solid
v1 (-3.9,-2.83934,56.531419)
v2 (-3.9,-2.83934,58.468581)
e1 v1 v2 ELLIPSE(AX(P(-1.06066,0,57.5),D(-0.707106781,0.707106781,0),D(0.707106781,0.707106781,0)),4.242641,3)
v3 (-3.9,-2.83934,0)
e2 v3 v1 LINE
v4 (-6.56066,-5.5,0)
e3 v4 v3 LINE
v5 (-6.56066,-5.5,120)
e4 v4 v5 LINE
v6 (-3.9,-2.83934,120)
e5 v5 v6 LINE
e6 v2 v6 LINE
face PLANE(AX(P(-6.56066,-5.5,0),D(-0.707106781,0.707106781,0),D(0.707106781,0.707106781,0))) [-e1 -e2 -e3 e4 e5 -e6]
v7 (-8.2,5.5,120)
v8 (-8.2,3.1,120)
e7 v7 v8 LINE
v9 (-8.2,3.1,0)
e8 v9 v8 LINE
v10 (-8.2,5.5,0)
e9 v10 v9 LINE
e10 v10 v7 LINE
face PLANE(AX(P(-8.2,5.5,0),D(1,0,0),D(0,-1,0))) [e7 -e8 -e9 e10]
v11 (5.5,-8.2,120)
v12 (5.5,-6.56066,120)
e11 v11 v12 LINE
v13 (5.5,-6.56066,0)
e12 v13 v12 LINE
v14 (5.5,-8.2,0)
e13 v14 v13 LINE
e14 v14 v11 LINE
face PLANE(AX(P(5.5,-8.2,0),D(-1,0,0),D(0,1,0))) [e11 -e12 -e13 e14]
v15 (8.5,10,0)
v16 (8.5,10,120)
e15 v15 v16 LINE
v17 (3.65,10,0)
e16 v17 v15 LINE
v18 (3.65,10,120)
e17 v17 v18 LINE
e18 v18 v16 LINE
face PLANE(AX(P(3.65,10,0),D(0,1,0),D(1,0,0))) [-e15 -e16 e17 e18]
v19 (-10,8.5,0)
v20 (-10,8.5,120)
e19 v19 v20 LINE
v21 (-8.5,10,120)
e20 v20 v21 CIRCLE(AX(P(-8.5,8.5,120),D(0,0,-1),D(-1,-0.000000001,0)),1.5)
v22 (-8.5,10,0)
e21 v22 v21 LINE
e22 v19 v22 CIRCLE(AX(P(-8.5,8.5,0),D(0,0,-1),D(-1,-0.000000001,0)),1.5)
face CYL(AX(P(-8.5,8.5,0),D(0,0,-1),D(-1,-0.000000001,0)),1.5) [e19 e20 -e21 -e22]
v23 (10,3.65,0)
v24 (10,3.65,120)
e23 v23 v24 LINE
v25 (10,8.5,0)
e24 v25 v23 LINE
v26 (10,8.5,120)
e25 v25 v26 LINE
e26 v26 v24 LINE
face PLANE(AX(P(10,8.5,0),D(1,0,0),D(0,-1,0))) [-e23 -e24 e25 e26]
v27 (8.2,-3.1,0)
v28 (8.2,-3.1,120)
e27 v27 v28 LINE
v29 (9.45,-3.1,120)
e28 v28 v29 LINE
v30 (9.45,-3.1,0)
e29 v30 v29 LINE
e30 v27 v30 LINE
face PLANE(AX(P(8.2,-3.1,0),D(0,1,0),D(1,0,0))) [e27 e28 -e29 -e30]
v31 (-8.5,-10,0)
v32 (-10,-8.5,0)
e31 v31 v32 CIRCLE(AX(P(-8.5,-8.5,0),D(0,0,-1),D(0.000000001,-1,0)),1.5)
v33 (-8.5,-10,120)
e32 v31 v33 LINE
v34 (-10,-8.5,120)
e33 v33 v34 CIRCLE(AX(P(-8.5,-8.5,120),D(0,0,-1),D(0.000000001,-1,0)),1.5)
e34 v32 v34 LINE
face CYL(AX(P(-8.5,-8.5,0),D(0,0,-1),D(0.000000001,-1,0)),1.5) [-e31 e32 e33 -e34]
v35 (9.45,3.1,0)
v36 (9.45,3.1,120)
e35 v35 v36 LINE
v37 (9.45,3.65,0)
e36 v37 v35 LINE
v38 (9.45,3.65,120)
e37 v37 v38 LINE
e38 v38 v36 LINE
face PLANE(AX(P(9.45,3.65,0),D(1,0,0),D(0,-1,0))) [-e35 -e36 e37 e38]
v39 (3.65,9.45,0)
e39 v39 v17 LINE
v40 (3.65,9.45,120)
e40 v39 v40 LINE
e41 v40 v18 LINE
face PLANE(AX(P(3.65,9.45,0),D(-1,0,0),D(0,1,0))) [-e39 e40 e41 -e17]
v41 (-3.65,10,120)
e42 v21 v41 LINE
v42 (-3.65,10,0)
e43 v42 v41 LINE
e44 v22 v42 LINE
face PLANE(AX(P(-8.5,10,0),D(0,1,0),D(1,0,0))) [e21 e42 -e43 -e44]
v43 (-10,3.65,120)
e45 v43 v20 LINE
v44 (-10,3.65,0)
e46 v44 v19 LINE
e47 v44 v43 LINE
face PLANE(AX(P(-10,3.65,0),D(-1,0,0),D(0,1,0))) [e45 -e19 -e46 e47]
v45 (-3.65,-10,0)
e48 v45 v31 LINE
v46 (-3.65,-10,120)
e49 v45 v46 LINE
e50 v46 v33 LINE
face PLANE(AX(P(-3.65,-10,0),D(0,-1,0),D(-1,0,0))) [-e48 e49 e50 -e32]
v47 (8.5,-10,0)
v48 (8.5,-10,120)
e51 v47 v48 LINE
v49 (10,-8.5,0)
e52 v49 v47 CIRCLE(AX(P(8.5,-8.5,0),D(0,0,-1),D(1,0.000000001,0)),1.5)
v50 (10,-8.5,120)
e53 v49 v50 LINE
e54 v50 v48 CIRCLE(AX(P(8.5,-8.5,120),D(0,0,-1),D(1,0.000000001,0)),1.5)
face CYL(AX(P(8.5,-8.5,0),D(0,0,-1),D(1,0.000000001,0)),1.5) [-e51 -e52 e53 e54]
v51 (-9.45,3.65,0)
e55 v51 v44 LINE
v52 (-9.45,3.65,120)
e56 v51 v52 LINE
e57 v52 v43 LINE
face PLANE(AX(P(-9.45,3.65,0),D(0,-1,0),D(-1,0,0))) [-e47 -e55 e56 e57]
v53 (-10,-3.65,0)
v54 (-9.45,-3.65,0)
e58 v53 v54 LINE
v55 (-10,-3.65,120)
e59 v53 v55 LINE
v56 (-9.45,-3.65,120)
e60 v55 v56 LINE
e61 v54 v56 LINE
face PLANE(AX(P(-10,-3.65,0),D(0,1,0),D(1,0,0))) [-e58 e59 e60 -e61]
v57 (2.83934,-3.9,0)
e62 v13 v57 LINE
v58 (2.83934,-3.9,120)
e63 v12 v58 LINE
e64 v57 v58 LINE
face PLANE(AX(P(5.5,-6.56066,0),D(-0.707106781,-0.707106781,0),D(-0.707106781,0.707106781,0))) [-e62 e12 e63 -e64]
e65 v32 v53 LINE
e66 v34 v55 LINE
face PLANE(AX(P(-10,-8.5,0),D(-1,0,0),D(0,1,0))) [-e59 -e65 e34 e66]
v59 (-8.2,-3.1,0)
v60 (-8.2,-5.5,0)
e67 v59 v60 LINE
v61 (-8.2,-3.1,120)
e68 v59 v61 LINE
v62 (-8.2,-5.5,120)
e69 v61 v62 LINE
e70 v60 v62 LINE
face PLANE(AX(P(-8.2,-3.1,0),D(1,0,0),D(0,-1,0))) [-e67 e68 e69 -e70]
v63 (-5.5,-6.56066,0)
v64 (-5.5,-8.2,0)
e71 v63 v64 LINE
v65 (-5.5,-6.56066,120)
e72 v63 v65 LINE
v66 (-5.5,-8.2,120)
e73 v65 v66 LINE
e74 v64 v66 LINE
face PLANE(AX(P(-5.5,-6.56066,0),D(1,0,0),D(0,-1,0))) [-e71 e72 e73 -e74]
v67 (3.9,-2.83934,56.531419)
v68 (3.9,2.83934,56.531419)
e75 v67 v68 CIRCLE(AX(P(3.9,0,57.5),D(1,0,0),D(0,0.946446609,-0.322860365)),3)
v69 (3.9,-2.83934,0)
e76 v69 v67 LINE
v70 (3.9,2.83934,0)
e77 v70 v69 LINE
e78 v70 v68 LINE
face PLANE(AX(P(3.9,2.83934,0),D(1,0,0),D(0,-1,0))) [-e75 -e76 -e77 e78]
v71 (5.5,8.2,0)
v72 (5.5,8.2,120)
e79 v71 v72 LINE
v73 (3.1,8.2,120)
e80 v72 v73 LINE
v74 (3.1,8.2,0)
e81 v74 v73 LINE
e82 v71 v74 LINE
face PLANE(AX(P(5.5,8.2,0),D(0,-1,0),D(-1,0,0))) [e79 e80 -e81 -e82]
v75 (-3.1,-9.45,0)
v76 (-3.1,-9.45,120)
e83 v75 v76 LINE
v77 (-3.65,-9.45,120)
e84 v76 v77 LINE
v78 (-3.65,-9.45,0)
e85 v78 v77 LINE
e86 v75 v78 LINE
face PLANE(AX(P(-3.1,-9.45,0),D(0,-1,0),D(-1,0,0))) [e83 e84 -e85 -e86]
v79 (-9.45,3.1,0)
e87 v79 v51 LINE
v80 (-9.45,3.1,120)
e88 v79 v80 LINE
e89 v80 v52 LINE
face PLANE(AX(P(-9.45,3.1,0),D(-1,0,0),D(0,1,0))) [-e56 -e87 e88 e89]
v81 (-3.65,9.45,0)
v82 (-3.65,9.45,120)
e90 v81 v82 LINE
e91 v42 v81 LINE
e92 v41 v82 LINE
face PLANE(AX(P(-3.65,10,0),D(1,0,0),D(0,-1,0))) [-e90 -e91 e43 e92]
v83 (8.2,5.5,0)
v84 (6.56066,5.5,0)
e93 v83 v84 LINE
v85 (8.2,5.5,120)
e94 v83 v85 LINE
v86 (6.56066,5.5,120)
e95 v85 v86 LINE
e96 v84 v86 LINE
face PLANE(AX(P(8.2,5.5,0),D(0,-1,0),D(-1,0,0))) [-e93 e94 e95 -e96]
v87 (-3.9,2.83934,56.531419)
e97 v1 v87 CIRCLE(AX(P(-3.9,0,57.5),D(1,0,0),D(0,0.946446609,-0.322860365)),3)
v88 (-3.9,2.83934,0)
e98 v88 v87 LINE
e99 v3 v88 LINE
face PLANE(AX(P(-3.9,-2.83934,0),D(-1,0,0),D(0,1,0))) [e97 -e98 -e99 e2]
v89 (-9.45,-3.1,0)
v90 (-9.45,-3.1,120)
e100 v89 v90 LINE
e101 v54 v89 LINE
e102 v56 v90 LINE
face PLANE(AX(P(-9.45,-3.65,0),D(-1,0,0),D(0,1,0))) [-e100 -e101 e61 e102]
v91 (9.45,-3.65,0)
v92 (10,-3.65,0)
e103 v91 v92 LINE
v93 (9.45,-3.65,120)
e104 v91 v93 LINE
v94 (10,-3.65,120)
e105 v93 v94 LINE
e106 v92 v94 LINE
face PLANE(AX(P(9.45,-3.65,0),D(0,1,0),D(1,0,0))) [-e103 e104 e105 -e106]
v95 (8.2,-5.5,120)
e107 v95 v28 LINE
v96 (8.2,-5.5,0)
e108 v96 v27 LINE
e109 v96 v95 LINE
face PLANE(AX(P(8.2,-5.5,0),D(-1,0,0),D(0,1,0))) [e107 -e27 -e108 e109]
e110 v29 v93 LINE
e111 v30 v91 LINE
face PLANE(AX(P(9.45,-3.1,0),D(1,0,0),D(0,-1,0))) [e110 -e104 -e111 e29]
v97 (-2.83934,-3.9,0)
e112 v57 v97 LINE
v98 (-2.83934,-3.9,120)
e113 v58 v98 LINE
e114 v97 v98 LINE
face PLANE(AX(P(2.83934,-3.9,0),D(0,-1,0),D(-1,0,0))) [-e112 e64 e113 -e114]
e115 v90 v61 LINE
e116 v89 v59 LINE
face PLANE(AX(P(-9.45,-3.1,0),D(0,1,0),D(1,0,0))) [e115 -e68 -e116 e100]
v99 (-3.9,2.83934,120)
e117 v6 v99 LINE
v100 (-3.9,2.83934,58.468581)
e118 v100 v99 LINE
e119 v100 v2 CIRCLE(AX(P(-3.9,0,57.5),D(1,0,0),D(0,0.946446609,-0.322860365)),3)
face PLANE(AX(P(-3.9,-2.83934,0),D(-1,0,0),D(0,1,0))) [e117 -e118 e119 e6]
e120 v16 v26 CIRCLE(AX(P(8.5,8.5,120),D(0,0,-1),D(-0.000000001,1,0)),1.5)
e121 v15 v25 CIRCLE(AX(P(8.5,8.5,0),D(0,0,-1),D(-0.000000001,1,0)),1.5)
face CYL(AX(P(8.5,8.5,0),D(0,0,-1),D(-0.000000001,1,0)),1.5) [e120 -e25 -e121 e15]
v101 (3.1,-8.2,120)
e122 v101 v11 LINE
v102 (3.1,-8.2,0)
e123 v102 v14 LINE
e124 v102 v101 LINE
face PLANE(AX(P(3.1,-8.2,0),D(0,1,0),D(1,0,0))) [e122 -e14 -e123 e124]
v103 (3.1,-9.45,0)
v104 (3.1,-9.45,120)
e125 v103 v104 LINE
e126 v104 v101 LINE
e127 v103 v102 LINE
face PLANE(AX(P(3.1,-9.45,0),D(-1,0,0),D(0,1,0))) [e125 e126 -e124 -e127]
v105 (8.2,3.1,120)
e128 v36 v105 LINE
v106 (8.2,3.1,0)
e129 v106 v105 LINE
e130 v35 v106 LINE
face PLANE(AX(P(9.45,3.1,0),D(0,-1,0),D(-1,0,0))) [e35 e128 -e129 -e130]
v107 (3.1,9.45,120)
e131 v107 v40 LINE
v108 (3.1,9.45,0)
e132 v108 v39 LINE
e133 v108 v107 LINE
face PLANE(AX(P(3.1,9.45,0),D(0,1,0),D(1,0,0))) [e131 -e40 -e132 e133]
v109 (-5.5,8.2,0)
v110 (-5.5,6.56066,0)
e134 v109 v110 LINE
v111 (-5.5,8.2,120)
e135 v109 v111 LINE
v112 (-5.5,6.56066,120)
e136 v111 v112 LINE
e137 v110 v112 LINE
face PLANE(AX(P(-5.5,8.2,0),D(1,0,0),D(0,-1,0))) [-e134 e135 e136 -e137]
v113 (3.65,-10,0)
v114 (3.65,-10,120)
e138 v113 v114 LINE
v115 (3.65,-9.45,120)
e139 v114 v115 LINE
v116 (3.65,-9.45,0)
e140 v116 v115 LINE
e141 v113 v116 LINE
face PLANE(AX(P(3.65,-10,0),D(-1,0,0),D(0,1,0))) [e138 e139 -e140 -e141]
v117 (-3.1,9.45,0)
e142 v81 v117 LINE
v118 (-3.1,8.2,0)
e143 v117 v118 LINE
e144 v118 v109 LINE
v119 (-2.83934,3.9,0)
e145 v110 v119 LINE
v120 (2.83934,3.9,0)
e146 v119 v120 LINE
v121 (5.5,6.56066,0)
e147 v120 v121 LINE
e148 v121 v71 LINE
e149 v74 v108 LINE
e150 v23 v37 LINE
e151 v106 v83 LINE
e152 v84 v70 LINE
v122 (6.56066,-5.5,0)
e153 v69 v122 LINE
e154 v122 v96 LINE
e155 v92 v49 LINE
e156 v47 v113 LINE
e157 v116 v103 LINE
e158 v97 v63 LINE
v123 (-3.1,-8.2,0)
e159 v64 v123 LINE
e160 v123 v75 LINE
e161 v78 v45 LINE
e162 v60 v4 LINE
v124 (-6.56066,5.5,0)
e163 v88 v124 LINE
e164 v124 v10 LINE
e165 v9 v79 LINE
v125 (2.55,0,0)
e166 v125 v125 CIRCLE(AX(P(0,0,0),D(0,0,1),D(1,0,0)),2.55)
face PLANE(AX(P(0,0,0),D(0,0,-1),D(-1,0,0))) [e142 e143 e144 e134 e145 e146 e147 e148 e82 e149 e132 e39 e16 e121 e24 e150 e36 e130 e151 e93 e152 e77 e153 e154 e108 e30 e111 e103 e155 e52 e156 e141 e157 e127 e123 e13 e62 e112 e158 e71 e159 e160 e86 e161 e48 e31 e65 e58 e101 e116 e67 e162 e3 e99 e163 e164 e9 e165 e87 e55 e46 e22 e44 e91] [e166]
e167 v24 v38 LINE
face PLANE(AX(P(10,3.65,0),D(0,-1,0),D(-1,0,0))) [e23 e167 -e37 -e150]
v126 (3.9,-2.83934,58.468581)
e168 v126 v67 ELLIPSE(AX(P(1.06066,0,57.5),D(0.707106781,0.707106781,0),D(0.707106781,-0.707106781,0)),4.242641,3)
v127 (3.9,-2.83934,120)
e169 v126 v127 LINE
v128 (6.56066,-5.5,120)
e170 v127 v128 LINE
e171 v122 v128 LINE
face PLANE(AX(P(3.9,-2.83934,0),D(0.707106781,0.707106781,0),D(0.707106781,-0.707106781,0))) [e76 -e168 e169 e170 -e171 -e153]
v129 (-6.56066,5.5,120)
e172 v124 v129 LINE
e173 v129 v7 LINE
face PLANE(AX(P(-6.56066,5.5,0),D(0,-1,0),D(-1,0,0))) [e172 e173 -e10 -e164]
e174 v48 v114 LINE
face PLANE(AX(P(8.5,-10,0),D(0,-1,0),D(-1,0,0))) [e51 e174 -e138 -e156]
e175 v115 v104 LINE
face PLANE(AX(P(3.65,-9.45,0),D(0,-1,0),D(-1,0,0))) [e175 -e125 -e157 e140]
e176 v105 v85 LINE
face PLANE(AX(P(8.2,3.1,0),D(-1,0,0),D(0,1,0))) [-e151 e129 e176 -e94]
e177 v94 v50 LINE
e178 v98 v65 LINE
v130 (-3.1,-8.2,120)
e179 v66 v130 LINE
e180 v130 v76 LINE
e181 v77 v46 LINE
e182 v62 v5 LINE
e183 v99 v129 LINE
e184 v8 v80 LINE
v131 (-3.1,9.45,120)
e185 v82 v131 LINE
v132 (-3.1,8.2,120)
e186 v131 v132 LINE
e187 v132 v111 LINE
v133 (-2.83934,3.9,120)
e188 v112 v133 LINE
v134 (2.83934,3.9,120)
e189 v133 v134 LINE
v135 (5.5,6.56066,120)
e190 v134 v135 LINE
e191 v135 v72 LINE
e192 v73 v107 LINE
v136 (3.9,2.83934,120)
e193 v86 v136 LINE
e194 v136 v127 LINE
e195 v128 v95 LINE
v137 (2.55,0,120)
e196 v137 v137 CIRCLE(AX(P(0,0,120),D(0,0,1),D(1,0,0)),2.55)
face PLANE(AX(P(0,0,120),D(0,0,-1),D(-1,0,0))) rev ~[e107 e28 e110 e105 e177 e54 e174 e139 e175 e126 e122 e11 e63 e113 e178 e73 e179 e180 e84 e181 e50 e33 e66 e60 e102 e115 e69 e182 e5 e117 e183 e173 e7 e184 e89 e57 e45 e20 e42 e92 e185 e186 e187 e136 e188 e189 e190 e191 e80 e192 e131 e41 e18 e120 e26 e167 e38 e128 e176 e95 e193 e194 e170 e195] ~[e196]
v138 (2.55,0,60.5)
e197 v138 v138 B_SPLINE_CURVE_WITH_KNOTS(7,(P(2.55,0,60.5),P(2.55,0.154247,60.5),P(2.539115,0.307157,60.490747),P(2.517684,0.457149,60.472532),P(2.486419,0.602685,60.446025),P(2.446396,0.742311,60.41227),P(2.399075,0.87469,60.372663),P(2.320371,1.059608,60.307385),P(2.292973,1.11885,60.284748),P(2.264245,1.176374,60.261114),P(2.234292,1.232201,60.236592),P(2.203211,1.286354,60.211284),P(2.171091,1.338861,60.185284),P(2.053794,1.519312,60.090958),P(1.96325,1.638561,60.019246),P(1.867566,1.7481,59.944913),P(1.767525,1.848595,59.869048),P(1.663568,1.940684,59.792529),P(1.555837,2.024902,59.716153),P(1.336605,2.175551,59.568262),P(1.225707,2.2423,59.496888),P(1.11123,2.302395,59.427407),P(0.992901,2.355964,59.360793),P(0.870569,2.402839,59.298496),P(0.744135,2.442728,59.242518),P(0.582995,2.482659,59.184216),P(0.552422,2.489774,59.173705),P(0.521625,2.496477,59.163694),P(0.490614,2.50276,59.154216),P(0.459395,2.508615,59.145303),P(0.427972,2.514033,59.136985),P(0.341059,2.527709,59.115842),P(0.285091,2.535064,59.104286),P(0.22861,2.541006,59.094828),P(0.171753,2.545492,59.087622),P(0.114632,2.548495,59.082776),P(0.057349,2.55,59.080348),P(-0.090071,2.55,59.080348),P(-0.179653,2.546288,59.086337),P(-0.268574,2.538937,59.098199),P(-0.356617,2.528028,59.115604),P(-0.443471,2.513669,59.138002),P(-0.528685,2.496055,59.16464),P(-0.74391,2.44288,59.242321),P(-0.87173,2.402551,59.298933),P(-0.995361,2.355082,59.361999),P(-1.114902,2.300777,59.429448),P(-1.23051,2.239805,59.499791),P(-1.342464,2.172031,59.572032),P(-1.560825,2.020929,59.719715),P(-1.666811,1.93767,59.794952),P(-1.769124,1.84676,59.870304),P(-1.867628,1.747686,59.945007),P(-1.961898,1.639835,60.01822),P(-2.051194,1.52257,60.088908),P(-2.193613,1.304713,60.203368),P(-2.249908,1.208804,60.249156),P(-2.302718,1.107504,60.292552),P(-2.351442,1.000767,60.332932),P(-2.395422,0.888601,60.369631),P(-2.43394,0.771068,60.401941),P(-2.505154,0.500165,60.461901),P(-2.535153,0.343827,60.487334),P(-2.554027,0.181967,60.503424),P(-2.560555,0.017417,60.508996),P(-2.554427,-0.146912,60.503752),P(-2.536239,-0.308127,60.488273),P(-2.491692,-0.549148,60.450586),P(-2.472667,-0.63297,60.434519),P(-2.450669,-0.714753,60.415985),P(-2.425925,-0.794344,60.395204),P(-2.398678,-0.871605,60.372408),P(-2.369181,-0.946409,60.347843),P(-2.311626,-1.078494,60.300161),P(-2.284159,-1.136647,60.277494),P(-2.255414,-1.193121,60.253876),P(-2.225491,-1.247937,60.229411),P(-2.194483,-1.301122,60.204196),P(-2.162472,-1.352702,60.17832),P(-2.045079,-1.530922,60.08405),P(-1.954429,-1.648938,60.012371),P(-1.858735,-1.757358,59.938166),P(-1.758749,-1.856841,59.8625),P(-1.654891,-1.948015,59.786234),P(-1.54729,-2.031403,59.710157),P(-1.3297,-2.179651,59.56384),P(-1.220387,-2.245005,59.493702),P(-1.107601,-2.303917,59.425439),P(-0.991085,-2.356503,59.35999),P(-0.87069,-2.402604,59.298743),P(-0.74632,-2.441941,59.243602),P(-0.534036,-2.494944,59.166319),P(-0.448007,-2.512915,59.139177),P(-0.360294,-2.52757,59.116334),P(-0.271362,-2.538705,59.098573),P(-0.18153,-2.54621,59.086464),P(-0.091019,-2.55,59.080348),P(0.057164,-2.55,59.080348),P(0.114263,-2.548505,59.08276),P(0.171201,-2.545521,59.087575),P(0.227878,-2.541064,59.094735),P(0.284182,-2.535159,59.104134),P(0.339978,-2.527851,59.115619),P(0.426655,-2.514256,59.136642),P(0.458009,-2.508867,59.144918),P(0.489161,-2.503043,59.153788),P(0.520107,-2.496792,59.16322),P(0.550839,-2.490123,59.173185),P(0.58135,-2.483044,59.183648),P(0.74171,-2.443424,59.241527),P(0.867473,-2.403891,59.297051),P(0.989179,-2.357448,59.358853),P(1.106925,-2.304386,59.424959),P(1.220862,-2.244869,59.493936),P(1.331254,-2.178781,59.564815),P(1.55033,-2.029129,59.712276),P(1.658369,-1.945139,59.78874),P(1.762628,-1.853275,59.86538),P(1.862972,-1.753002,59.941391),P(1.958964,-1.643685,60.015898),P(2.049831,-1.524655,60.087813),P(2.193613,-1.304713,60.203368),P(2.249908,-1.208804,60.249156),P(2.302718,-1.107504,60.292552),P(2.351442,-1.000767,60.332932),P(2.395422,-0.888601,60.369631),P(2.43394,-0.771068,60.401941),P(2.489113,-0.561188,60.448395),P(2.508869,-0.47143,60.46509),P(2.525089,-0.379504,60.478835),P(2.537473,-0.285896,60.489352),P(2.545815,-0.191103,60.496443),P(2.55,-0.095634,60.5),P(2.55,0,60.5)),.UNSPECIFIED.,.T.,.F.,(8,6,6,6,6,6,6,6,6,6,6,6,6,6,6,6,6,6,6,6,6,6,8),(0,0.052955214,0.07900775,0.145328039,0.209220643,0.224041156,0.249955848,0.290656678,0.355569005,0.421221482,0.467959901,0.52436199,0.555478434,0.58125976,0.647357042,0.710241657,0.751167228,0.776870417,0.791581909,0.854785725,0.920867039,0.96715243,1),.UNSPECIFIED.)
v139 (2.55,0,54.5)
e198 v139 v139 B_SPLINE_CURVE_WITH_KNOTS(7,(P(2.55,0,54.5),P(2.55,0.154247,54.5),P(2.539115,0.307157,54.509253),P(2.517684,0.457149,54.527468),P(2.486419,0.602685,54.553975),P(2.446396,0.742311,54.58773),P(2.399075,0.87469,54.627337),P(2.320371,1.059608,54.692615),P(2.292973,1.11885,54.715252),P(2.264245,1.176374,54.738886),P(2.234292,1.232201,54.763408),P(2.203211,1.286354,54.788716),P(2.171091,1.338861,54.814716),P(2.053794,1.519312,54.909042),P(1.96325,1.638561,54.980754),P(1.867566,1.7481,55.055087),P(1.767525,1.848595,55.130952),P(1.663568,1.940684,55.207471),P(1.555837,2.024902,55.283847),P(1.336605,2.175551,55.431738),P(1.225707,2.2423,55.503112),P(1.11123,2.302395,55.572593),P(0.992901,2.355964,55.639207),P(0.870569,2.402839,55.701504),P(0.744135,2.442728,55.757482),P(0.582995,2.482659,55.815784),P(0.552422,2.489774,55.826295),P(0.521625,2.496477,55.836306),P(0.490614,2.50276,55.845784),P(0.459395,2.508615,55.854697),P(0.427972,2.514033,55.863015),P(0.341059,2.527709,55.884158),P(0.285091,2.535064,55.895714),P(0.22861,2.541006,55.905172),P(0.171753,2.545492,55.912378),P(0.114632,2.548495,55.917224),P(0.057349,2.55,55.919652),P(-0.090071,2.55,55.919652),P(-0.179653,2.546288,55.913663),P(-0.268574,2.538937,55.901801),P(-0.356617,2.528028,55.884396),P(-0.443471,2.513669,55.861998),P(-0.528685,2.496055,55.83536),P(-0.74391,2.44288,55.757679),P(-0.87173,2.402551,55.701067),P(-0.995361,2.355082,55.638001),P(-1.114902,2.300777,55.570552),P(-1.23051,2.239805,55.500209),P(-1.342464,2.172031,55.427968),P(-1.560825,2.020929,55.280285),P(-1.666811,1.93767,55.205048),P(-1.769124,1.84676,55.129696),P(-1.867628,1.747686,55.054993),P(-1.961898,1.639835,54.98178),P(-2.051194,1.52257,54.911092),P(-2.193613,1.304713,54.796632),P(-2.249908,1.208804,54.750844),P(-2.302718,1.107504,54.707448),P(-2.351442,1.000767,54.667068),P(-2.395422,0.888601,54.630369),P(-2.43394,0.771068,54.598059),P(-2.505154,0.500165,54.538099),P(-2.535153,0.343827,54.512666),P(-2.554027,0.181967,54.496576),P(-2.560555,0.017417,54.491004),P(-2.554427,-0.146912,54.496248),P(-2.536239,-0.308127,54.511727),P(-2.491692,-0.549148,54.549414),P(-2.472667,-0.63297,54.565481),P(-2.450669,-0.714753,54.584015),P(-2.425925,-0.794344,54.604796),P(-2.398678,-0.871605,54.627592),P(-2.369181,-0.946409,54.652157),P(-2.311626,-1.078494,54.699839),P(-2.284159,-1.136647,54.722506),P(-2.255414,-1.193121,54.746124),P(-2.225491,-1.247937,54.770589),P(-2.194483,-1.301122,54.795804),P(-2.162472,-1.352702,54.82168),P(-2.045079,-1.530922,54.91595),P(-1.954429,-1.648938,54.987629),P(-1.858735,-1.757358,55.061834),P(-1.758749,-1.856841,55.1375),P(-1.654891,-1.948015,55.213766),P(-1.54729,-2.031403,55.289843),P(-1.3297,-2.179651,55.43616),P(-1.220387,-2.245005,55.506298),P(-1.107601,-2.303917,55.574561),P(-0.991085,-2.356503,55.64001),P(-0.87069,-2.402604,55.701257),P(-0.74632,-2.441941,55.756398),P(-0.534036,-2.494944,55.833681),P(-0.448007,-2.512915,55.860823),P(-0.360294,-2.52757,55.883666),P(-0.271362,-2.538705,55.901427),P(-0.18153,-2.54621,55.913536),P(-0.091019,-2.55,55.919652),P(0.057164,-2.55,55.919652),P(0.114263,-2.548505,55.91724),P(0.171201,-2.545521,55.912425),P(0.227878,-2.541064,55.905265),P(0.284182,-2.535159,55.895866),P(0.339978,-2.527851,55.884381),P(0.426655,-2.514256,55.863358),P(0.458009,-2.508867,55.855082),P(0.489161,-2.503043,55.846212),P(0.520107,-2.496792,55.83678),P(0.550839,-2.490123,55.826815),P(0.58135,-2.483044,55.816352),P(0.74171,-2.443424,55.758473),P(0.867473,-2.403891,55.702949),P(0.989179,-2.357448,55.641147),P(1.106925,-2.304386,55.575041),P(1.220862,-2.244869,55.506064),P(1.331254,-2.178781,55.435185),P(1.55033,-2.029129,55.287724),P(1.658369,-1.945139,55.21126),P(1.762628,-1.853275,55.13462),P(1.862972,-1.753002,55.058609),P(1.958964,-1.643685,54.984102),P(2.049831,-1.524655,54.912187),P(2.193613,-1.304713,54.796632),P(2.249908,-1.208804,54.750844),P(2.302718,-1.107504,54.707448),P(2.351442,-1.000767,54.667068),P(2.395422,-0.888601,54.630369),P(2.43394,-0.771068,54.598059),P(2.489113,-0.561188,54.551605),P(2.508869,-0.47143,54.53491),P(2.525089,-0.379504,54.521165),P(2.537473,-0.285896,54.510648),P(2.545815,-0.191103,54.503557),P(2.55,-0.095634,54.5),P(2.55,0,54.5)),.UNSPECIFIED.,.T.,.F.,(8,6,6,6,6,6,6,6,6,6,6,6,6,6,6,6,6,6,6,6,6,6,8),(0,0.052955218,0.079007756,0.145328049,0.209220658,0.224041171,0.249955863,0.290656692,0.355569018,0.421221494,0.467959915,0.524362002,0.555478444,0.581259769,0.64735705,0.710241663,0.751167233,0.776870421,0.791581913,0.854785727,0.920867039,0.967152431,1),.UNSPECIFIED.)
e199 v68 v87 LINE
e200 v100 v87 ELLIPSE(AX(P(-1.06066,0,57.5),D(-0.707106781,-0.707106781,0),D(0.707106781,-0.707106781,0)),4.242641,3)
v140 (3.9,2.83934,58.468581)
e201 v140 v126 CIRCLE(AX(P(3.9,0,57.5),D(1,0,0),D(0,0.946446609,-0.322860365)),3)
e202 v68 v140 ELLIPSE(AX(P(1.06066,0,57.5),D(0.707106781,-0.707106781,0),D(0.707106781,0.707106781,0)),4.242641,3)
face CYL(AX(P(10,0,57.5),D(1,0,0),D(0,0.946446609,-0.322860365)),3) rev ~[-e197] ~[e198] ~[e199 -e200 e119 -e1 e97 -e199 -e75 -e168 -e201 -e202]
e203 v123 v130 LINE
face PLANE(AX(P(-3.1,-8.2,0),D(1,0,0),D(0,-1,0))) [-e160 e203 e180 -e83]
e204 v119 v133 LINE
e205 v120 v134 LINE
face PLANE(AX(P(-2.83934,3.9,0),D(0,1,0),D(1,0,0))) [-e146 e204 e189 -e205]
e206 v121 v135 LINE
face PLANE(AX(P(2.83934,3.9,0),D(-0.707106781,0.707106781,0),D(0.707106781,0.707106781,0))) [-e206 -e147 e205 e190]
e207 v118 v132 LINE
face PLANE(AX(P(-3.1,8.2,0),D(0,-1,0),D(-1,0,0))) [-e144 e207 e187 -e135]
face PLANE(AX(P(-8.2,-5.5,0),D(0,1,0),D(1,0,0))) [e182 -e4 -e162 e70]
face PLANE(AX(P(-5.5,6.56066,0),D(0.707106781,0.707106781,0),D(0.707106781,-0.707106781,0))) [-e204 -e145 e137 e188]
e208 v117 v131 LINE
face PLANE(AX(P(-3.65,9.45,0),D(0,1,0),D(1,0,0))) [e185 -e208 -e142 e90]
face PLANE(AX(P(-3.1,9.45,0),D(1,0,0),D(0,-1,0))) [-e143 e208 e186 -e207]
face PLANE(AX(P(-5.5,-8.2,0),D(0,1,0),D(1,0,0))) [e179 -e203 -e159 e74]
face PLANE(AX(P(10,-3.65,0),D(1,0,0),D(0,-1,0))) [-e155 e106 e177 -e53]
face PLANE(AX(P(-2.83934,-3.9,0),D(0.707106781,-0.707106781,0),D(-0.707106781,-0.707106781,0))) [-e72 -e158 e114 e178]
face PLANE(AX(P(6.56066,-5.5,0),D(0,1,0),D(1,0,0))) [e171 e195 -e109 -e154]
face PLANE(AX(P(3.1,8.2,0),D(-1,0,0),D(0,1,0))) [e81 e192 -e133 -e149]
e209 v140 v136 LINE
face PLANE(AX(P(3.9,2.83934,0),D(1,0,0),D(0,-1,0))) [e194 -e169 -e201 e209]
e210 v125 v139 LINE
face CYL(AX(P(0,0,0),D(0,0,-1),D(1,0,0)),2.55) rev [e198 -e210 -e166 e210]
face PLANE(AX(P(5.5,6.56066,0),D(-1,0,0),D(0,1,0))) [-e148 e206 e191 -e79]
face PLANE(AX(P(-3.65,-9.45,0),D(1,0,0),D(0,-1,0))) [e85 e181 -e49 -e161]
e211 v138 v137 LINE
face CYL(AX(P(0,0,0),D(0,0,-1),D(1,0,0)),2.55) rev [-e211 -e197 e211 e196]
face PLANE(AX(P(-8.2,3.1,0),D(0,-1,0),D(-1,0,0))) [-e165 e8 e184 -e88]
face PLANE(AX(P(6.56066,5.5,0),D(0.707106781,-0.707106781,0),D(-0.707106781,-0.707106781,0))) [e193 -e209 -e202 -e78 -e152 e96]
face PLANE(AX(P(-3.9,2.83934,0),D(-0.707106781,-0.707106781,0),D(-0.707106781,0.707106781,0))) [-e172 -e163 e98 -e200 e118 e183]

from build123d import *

# Parameters (mm, degrees)
SKETCH_2_R          = 2.55
EXTRUDE_1_DEPTH     = 120
SKETCH_3_R          = 3
CUT_EXTRUDE_1_DEPTH = 123.065556157


with BuildPart() as part:
    # 草图2 → 凸台-拉伸1 (new body)
    with BuildSketch(Plane.XY):
        with BuildLine():
            Line((-3.9, 2.839339828), (-6.560660172, 5.5))
            Line((-6.560660172, 5.5), (-8.2, 5.5))
            Line((-8.2, 5.5), (-8.2, 3.1))
            Line((-8.2, 3.1), (-9.45, 3.1))
            Line((-9.45, 3.1), (-9.45, 3.65))
            Line((-9.45, 3.65), (-10, 3.65))
            Line((-10, 3.65), (-10, 8.5))
            ThreePointArc((-10, 8.5), (-9.560660172, 9.560660172), (-8.5, 10))
            Line((-8.5, 10), (-3.65, 10))
            Line((-3.65, 10), (-3.65, 9.45))
            Line((-3.65, 9.45), (-3.1, 9.45))
            Line((-3.1, 9.45), (-3.1, 8.2))
            Line((-3.1, 8.2), (-5.5, 8.2))
            Line((-5.5, 8.2), (-5.5, 6.560660172))
            Line((-5.5, 6.560660172), (-2.839339828, 3.9))
            Line((-2.839339828, 3.9), (2.839339828, 3.9))
            Line((2.839339828, 3.9), (5.5, 6.560660172))
            Line((5.5, 6.560660172), (5.5, 8.2))
            Line((5.5, 8.2), (3.1, 8.2))
            Line((3.1, 8.2), (3.1, 9.45))
            Line((3.1, 9.45), (3.65, 9.45))
            Line((3.65, 9.45), (3.65, 10))
            Line((3.65, 10), (8.5, 10))
            ThreePointArc((8.5, 10), (9.560660172, 9.560660172), (10, 8.5))
            Line((10, 8.5), (10, 3.65))
            Line((10, 3.65), (9.45, 3.65))
            Line((9.45, 3.65), (9.45, 3.1))
            Line((9.45, 3.1), (8.2, 3.1))
            Line((8.2, 3.1), (8.2, 5.5))
            Line((8.2, 5.5), (6.560660172, 5.5))
            Line((6.560660172, 5.5), (3.9, 2.839339828))
            Line((3.9, 2.839339828), (3.9, -2.839339828))
            Line((3.9, -2.839339828), (6.560660172, -5.5))
            Line((6.560660172, -5.5), (8.2, -5.5))
            Line((8.2, -5.5), (8.2, -3.1))
            Line((8.2, -3.1), (9.45, -3.1))
            Line((9.45, -3.1), (9.45, -3.65))
            Line((9.45, -3.65), (10, -3.65))
            Line((10, -3.65), (10, -8.5))
            ThreePointArc((10, -8.5), (9.560660172, -9.560660172), (8.5, -10))
            Line((8.5, -10), (3.65, -10))
            Line((3.65, -10), (3.65, -9.45))
            Line((3.65, -9.45), (3.1, -9.45))
            Line((3.1, -9.45), (3.1, -8.2))
            Line((3.1, -8.2), (5.5, -8.2))
            Line((5.5, -8.2), (5.5, -6.560660172))
            Line((5.5, -6.560660172), (2.839339828, -3.9))
            Line((2.839339828, -3.9), (-2.839339828, -3.9))
            Line((-2.839339828, -3.9), (-5.5, -6.560660172))
            Line((-5.5, -6.560660172), (-5.5, -8.2))
            Line((-5.5, -8.2), (-3.1, -8.2))
            Line((-3.1, -8.2), (-3.1, -9.45))
            Line((-3.1, -9.45), (-3.65, -9.45))
            Line((-3.65, -9.45), (-3.65, -10))
            Line((-3.65, -10), (-8.5, -10))
            ThreePointArc((-8.5, -10), (-9.560660172, -9.560660172), (-10, -8.5))
            Line((-10, -8.5), (-10, -3.65))
            Line((-10, -3.65), (-9.45, -3.65))
            Line((-9.45, -3.65), (-9.45, -3.1))
            Line((-9.45, -3.1), (-8.2, -3.1))
            Line((-8.2, -3.1), (-8.2, -5.5))
            Line((-8.2, -5.5), (-6.560660172, -5.5))
            Line((-6.560660172, -5.5), (-3.9, -2.839339828))
            Line((-3.9, -2.839339828), (-3.9, 2.839339828))
        make_face()
        Circle(SKETCH_2_R, mode=Mode.SUBTRACT)
    extrude(amount=EXTRUDE_1_DEPTH)

    # 草图3 → 切除-拉伸1 (cut, through all)
    with BuildSketch(Plane(origin=(10, 0, 0), x_dir=(0, 0, -1), z_dir=(1, 0, 0))):
        with Locations(Location((-57.5, 0, 0), (0, 0, 71.16400384))):
            Circle(SKETCH_3_R)
        with Locations((-302.5, 0)):
            Circle(SKETCH_3_R)
    extrude(amount=-CUT_EXTRUDE_1_DEPTH, mode=Mode.SUBTRACT)


solid = part.part
